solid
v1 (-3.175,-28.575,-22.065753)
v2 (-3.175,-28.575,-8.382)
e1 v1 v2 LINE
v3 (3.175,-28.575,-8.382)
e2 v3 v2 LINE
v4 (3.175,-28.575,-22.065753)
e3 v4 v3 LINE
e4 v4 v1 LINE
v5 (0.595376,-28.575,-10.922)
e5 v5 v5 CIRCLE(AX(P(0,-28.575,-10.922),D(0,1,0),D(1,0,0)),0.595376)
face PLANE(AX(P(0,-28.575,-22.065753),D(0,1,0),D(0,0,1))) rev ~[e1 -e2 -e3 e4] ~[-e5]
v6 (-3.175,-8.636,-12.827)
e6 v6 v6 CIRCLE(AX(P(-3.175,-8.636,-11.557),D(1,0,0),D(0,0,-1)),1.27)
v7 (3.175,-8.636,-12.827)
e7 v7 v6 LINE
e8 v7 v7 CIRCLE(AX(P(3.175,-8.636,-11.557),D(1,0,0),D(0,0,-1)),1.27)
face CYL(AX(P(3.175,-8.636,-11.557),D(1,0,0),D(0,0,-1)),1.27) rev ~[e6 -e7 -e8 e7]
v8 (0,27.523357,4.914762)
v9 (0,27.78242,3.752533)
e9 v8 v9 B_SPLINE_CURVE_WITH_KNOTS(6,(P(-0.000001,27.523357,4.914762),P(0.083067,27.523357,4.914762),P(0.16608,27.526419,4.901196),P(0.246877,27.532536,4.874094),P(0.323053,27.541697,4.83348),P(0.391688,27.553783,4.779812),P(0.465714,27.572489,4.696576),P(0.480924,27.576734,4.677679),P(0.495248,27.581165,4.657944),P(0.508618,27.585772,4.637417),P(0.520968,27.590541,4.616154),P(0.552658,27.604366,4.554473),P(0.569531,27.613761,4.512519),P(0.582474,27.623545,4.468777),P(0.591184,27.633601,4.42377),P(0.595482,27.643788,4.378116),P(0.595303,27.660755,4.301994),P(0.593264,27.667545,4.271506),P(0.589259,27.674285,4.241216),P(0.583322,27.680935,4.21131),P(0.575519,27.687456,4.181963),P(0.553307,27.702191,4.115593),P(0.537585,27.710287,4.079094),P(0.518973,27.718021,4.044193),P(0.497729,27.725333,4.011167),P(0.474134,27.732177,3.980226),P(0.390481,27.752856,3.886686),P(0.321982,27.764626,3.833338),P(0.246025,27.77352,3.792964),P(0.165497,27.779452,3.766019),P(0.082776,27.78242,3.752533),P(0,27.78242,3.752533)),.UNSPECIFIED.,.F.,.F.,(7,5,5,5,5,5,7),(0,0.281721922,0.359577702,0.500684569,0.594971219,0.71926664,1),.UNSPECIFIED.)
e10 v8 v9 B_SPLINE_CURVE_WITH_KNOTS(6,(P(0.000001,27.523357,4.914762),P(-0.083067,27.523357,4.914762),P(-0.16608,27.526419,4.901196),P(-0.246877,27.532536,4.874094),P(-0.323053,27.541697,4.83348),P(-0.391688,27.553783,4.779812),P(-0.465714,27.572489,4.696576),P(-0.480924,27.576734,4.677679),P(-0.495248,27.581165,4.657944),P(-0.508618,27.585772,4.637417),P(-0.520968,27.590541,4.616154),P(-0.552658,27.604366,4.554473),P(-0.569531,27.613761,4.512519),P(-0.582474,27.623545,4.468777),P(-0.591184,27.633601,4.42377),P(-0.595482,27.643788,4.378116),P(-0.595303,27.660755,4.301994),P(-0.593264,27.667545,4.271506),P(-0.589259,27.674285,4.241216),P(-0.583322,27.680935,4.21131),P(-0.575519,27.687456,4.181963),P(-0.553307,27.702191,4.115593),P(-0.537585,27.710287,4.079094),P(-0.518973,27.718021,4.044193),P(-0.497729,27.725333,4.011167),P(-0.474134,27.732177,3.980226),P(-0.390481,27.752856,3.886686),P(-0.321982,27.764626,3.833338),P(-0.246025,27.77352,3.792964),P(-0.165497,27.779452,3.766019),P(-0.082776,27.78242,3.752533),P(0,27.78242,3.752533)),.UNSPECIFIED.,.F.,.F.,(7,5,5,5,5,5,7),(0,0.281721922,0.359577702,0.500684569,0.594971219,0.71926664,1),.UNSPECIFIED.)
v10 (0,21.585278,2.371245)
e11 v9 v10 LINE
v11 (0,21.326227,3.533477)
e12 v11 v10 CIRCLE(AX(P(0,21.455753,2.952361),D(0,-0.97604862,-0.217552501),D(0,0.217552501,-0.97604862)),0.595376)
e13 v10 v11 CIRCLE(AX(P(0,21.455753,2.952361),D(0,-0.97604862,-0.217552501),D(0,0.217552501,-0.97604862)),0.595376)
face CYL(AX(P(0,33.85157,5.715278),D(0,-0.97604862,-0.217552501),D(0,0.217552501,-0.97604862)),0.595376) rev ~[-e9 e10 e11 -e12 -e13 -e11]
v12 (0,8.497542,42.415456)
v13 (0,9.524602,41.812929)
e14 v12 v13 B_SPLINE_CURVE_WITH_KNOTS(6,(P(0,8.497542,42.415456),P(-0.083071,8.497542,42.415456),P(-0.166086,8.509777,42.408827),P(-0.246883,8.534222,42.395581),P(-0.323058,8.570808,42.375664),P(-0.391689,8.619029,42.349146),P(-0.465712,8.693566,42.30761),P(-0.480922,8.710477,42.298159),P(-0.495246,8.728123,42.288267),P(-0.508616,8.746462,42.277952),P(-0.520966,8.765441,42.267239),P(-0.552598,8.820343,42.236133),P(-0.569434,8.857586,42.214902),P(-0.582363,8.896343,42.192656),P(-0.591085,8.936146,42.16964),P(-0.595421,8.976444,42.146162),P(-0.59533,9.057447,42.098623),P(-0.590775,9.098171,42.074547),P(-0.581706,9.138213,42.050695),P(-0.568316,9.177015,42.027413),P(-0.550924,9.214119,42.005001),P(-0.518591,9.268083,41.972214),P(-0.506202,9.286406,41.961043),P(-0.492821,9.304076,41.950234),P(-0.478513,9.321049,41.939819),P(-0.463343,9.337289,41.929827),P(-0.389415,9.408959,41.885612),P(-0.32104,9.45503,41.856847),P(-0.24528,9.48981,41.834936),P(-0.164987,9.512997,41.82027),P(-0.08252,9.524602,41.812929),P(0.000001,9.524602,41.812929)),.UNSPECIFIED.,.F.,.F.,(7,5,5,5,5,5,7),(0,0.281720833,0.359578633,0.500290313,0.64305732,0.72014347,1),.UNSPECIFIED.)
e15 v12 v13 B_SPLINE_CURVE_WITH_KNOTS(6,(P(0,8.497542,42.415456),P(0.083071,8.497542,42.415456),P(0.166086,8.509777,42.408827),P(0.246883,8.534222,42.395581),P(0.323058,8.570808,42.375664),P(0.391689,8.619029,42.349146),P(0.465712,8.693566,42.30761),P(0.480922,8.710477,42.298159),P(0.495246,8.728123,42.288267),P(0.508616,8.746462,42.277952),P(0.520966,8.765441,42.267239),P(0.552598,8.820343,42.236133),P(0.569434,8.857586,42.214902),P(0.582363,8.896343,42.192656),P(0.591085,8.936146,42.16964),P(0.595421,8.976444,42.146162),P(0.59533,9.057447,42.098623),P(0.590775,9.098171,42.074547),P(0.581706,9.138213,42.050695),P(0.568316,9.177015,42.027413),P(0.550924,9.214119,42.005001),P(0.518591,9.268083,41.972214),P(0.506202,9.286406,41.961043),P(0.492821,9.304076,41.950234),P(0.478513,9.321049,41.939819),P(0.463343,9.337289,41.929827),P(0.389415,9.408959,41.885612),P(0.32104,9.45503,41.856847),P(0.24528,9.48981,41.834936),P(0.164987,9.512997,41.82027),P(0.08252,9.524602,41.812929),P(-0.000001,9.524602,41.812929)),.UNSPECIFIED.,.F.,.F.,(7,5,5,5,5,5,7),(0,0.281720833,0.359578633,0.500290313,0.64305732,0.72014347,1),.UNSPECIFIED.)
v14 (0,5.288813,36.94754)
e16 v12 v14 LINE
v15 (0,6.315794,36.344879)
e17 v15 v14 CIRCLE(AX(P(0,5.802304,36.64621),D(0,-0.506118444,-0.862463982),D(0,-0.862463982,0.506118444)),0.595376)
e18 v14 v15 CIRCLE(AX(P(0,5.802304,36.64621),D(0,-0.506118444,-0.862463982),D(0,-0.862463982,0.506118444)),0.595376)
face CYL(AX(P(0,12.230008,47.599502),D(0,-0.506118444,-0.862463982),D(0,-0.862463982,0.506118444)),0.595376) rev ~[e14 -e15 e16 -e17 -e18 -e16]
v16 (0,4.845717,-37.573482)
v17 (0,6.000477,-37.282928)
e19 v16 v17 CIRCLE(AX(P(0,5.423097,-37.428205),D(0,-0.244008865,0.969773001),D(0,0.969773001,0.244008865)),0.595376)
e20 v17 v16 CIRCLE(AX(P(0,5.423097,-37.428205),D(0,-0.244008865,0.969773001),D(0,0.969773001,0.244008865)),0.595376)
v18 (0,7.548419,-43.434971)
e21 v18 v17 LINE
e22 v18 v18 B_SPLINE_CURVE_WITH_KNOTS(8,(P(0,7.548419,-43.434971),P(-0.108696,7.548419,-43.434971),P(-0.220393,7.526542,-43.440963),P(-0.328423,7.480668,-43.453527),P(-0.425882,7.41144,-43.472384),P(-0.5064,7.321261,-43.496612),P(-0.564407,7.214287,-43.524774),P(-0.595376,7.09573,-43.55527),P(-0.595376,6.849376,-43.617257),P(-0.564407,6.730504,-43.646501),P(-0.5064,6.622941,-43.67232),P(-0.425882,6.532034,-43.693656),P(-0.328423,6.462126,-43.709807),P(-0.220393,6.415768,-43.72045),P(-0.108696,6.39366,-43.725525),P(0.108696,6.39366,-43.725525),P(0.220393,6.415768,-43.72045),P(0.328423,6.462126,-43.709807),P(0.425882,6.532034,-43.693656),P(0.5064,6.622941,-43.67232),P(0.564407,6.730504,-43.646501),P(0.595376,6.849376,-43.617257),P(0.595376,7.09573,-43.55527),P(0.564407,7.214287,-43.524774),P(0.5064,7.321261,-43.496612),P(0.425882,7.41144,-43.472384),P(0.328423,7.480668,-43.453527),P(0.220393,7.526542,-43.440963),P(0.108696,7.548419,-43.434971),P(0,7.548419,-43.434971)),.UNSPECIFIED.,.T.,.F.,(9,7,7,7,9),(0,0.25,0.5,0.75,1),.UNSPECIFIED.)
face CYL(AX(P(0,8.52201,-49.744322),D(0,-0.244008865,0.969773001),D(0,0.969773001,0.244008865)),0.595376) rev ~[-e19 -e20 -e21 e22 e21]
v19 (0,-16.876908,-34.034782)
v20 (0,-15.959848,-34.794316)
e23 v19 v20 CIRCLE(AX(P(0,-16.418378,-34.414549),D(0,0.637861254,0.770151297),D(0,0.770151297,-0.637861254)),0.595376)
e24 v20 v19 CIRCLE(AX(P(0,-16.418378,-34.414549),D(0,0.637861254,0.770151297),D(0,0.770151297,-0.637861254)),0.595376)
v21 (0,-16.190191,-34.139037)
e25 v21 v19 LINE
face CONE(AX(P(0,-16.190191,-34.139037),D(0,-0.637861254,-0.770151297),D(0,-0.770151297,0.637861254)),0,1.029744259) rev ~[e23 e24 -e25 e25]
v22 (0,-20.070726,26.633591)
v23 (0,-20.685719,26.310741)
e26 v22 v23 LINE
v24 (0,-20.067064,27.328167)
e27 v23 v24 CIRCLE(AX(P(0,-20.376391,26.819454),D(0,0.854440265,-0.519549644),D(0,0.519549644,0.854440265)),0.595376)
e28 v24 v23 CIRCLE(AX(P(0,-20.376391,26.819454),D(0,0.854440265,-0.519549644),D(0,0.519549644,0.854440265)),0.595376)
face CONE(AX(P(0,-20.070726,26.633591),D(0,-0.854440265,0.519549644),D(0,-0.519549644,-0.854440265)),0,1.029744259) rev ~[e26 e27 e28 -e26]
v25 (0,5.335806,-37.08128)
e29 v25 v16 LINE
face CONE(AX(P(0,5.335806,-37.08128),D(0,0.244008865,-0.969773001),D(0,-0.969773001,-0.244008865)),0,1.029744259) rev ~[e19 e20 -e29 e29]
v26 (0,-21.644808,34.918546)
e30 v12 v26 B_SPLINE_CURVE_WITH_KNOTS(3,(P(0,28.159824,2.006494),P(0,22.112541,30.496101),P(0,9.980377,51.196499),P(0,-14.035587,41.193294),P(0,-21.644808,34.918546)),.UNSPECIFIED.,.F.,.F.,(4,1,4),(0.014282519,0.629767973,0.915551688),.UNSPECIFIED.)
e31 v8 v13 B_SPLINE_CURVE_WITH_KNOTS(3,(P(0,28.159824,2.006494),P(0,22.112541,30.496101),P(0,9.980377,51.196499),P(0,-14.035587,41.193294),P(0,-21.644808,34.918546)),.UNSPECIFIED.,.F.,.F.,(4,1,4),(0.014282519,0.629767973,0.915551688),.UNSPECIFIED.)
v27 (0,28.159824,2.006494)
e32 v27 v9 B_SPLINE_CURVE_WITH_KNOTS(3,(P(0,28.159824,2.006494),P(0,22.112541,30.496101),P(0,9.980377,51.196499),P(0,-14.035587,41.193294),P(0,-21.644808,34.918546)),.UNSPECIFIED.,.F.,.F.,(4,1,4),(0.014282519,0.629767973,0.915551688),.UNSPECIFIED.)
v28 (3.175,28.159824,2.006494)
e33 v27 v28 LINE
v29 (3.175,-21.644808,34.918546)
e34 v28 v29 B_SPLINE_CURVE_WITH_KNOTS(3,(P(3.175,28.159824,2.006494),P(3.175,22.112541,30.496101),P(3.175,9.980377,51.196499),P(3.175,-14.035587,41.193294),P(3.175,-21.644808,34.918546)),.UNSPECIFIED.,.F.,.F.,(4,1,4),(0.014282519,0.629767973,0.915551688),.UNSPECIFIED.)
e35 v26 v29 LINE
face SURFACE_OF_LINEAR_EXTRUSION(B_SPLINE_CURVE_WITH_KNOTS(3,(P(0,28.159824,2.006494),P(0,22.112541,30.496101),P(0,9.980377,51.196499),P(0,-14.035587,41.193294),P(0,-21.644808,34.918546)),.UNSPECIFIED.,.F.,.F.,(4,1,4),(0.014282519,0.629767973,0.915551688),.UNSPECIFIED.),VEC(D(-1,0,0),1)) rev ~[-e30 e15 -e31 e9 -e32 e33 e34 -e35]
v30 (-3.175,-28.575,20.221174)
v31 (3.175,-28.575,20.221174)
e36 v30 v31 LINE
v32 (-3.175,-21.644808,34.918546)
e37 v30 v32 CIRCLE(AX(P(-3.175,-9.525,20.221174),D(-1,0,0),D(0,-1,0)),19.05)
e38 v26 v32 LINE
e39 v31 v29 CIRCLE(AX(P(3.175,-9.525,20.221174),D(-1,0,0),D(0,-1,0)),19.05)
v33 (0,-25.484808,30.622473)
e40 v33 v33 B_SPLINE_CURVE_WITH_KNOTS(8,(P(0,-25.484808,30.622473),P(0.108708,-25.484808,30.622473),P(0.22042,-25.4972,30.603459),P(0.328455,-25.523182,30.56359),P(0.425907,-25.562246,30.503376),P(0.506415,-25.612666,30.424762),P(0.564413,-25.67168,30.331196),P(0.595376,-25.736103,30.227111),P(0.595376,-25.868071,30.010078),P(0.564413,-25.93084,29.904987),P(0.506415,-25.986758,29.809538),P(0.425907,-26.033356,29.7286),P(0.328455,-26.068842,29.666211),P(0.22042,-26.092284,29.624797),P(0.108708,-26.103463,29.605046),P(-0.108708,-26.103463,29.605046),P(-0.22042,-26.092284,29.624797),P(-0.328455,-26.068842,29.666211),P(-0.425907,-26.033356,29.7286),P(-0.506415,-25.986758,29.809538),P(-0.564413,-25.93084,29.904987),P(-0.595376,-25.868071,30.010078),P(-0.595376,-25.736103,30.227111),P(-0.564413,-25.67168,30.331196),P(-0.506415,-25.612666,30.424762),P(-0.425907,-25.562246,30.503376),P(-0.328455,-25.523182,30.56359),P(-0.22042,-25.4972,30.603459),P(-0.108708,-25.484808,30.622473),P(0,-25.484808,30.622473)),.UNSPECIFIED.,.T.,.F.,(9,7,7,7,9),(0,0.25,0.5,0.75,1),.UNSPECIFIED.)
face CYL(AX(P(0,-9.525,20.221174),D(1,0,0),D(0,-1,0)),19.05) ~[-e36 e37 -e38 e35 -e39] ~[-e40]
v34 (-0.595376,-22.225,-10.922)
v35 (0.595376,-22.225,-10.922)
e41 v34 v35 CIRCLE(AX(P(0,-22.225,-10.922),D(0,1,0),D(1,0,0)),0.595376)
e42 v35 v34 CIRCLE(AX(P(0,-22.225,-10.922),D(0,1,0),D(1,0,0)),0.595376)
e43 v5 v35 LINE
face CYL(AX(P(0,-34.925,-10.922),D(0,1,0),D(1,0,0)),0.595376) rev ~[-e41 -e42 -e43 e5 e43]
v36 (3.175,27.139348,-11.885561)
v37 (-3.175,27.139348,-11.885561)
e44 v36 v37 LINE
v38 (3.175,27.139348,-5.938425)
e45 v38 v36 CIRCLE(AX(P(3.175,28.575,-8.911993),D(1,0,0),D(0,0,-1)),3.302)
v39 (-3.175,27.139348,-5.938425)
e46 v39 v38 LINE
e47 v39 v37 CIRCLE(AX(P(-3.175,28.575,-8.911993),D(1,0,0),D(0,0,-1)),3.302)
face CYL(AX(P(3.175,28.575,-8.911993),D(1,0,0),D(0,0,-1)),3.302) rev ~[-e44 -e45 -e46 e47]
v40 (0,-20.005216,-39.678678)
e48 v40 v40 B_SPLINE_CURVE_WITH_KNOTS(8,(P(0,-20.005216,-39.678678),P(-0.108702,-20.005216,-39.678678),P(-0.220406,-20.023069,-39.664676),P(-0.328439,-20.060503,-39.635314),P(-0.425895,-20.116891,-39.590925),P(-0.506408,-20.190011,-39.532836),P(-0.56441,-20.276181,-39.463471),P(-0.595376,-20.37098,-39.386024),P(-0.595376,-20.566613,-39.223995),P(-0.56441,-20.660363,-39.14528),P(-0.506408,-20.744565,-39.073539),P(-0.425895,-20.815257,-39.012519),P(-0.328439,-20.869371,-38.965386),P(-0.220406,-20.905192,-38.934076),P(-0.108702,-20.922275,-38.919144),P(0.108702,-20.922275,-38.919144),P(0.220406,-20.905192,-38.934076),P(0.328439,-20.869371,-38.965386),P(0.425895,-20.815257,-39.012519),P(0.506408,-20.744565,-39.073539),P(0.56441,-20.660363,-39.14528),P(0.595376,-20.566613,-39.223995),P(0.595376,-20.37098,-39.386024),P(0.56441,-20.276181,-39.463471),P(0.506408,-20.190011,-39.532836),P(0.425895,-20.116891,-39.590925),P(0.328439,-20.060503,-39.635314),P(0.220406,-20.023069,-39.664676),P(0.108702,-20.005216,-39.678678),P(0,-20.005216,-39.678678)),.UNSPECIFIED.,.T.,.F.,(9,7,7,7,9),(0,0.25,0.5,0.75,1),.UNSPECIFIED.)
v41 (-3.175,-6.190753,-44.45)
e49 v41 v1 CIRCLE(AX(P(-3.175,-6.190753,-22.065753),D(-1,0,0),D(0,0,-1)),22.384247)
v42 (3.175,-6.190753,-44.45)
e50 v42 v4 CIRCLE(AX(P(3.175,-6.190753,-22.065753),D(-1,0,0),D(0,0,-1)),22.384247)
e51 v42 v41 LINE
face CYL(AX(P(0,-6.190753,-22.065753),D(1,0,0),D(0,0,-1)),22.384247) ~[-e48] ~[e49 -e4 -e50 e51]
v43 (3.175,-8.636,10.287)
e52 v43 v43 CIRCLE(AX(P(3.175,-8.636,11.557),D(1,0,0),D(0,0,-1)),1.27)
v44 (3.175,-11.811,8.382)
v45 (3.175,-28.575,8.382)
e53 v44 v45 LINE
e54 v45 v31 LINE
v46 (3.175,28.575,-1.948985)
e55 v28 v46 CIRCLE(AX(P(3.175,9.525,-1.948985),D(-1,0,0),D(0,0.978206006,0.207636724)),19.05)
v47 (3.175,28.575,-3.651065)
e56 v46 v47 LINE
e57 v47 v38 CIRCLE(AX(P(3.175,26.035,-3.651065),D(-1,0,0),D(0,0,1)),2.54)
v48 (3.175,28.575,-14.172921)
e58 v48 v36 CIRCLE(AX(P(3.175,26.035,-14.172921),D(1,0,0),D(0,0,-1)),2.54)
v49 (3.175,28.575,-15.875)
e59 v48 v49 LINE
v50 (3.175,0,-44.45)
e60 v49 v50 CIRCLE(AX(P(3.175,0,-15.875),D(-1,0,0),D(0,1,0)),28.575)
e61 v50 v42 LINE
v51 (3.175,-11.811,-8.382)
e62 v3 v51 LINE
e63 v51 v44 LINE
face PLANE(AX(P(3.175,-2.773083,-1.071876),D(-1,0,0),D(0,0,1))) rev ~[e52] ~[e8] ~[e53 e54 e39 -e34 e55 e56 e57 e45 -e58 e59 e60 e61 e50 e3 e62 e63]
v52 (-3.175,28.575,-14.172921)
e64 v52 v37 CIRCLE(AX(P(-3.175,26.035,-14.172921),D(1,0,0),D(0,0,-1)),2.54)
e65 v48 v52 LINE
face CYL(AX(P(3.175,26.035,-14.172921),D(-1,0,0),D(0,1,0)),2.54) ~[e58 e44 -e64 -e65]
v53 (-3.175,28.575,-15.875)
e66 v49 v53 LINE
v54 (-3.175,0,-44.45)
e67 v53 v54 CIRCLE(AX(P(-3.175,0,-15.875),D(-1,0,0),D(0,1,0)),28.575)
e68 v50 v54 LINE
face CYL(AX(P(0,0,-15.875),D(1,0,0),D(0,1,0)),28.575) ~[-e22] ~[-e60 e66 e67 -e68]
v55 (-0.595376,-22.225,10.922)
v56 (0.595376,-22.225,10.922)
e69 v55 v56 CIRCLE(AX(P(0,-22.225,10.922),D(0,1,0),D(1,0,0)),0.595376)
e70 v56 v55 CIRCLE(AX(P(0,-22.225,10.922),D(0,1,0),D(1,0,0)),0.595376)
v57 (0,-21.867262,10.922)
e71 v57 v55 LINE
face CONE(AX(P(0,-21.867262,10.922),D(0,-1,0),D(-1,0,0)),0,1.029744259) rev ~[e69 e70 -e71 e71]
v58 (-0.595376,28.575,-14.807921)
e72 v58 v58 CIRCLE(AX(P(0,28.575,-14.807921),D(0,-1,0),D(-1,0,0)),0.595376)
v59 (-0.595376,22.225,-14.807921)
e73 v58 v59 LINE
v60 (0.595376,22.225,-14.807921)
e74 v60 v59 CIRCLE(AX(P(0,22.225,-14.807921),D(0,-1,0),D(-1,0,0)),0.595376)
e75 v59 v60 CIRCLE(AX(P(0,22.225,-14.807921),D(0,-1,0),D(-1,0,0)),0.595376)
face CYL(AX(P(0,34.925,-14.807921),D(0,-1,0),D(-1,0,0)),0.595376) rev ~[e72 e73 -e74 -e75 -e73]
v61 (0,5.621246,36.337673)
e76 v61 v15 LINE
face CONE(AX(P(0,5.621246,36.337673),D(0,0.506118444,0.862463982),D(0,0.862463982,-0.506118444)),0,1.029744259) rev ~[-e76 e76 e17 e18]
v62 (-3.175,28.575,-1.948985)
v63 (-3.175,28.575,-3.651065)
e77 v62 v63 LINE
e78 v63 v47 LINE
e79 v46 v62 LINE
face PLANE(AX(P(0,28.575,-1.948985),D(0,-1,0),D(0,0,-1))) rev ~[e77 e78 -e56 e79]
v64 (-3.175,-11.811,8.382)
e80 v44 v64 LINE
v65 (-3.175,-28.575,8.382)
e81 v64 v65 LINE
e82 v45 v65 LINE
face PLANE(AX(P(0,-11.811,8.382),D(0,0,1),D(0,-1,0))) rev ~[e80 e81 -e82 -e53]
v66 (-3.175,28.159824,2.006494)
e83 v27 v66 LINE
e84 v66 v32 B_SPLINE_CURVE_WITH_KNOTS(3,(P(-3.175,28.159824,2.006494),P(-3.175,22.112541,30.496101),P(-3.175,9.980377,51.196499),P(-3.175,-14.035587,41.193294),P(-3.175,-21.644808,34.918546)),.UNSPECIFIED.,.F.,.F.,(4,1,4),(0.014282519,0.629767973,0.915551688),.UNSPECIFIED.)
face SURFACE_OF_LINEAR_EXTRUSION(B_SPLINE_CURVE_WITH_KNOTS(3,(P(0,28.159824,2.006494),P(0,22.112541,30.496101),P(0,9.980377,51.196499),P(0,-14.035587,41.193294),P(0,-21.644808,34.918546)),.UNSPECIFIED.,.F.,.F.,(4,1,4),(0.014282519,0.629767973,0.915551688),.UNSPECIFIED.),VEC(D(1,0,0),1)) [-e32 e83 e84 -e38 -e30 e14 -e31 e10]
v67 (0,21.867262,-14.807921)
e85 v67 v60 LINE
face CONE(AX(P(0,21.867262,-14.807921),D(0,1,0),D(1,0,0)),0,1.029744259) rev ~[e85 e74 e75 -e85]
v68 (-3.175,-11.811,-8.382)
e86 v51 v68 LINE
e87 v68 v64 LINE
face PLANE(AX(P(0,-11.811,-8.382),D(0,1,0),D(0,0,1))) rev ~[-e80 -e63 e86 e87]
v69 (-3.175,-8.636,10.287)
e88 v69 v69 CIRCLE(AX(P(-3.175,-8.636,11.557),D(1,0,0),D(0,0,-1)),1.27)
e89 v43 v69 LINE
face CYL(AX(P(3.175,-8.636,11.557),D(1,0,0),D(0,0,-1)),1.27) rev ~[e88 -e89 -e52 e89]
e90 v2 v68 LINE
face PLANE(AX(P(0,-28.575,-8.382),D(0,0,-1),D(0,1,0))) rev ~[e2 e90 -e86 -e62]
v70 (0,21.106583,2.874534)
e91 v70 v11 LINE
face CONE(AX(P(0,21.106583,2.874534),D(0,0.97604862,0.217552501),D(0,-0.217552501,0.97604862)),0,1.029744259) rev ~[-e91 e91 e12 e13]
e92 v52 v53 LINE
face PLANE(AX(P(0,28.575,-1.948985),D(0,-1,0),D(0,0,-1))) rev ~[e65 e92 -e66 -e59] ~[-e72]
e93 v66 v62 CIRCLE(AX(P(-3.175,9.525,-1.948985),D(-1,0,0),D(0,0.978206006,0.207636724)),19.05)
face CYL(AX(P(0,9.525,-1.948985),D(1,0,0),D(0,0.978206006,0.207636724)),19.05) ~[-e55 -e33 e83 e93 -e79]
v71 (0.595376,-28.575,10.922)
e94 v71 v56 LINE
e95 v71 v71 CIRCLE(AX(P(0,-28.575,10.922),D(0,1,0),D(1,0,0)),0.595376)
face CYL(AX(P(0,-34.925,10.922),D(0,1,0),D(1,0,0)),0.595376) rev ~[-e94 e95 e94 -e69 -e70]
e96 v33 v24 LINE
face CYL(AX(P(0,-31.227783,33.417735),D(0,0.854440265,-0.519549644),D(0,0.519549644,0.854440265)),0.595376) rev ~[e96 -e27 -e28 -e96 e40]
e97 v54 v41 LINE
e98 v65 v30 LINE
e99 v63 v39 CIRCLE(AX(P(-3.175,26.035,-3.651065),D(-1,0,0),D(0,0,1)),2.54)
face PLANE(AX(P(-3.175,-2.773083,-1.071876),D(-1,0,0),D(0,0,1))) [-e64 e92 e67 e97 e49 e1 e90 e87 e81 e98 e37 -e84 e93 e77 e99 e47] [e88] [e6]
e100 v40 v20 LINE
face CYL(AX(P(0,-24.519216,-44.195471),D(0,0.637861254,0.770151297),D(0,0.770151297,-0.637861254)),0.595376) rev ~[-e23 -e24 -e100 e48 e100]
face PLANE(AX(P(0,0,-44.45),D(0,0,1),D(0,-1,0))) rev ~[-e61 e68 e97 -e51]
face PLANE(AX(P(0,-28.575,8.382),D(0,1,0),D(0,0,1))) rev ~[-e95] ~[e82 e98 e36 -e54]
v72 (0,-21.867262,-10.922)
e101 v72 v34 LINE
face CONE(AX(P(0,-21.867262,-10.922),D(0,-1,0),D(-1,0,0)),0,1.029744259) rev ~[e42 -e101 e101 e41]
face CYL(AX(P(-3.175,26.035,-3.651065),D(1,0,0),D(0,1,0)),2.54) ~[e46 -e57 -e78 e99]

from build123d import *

# Parameters (mm, degrees)
BOSS_EXTRUDE1_DEPTH                  = 3.175
SKETCH2_R                            = 3.302
CUT_EXTRUDE1_DEPTH                   = 7.3500001
FILLET1_R                            = 2.54
SKETCH3_R                            = 1.27
CUT_EXTRUDE2_DEPTH                   = 7.3500001
F_3_64_0_04688_DIAMETER_HOLE4_D      = 1.190752
F_3_64_0_04688_DIAMETER_HOLE4_DEPTH  = 6.35
F_3_64_0_04688_DIAMETER_HOLE4_TIP    = 0.357737992
F_3_64_0_04688_DIAMETER_HOLE5_D      = 1.190752
F_3_64_0_04688_DIAMETER_HOLE5_DEPTH  = 6.35
F_3_64_0_04688_DIAMETER_HOLE5_TIP    = 0.357737992
F_3_64_0_04688_DIAMETER_HOLE8_D      = 1.190752
F_3_64_0_04688_DIAMETER_HOLE8_DEPTH  = 6.35
F_3_64_0_04688_DIAMETER_HOLE8_TIP    = 0.357737992
F_3_64_0_04688_DIAMETER_HOLE10_D     = 1.190752
F_3_64_0_04688_DIAMETER_HOLE10_DEPTH = 6.35
F_3_64_0_04688_DIAMETER_HOLE10_TIP   = 0.357737992
F_3_64_0_04688_DIAMETER_HOLE11_D     = 1.190752
F_3_64_0_04688_DIAMETER_HOLE11_DEPTH = 6.35
F_3_64_0_04688_DIAMETER_HOLE11_TIP   = 0.357737992
F_3_64_0_04688_DIAMETER_HOLE12_D     = 1.190752
F_3_64_0_04688_DIAMETER_HOLE12_DEPTH = 6.35
F_3_64_0_04688_DIAMETER_HOLE12_TIP   = 0.357737992
F_3_64_0_04688_DIAMETER_HOLE13_D     = 1.190752
F_3_64_0_04688_DIAMETER_HOLE13_DEPTH = 6.35
F_3_64_0_04688_DIAMETER_HOLE13_TIP   = 0.357737992
F_3_64_0_04688_DIAMETER_HOLE14_D     = 1.190752
F_3_64_0_04688_DIAMETER_HOLE14_DEPTH = 6.35
F_3_64_0_04688_DIAMETER_HOLE14_TIP   = 0.357737992


with BuildPart() as part:
    # Sketch1 → Boss-Extrude1 (new body, symmetric)
    with BuildSketch(Plane(origin=(0, 0, 0), x_dir=(0, 0, -1), z_dir=(1, 0, 0))):
        with BuildLine():
            ThreePointArc((-2.006494412, 28.159824422), (-0.039619207, 28.470921794), (1.948985172, 28.575))
            Line((1.948985172, 28.575), (15.875, 28.575))
            ThreePointArc((15.875, 28.575), (36.080576272, 20.205576272), (44.45, 0))
            Line((44.45, 0), (44.45, -6.190753211))
            ThreePointArc((44.45, -6.190753211), (37.893805907, -22.018805907), (22.065753211, -28.575))
            Line((22.065753211, -28.575), (8.382, -28.575))
            Line((8.382, -28.575), (8.382, -11.811))
            Line((8.382, -11.811), (-8.382, -11.811))
            Line((-8.382, -11.811), (-8.382, -28.575))
            Line((-8.382, -28.575), (-20.221173657, -28.575))
            ThreePointArc((-20.221173657, -28.575), (-28.345832171, -26.755566561), (-34.918545763, -21.644808297))
            add(Edge.make_bspline(
                [(-2.006494412, 28.159824422), (-30.496101023, 22.112541402), (-51.196498918, 9.980376605), (-41.193293746, -14.035586788), (-34.918545763, -21.644808297)],
                knots=[0.014282519, 0.014282519, 0.014282519, 0.014282519, 0.629767973, 0.915551688, 0.915551688, 0.915551688, 0.915551688], degree=3))
        make_face()
    extrude(amount=BOSS_EXTRUDE1_DEPTH, both=True)

    # Sketch2 → Cut-Extrude1 (cut, through all)
    with BuildSketch(Plane(origin=(3.175, 0, 0), x_dir=(0, 0, -1), z_dir=(1, 0, 0))):
        with Locations((8.911992586, 28.575)):
            Circle(SKETCH2_R)
    extrude(amount=-CUT_EXTRUDE1_DEPTH, mode=Mode.SUBTRACT)

    # Fillet1
    fillet1_edges = [part.edges().sort_by_distance(p)[0] for p in [
        (0, 28.575, -5.609992586),
        (0, 28.575, -12.213992586),
    ]]
    fillet(fillet1_edges, radius=FILLET1_R)

    # Sketch3 → Cut-Extrude2 (cut, through all)
    with BuildSketch(Plane(origin=(3.175, 0, 0), x_dir=(0, 0, -1), z_dir=(1, 0, 0))):
        with Locations((11.557, -8.636)):
            Circle(SKETCH3_R)
        with Locations((-11.557, -8.636)):
            Circle(SKETCH3_R)
    extrude(amount=-CUT_EXTRUDE2_DEPTH, mode=Mode.SUBTRACT)

    # 3/64 (0.04688) Diameter Hole4
    with Locations(Plane(origin=(0, 27.653661398, 4.33381955), x_dir=(0, -0.217552501, 0.97604862), z_dir=(0, 0.97604862, 0.217552501))):
        with Locations((0, 0)):
            Hole(F_3_64_0_04688_DIAMETER_HOLE4_D / 2, depth=F_3_64_0_04688_DIAMETER_HOLE4_DEPTH)
            with Locations((0, 0, -(F_3_64_0_04688_DIAMETER_HOLE4_DEPTH + F_3_64_0_04688_DIAMETER_HOLE4_TIP / 2))):  # 118° drill point
                Cone(0, F_3_64_0_04688_DIAMETER_HOLE4_D / 2, F_3_64_0_04688_DIAMETER_HOLE4_TIP, mode=Mode.SUBTRACT)

    # 3/64 (0.04688) Diameter Hole5
    with Locations(Plane(origin=(0, 28.575, 0), x_dir=(1, 0, 0), z_dir=(0, 1, 0))):
        with Locations((0, 14.807920641)):
            Hole(F_3_64_0_04688_DIAMETER_HOLE5_D / 2, depth=F_3_64_0_04688_DIAMETER_HOLE5_DEPTH)
            with Locations((0, 0, -(F_3_64_0_04688_DIAMETER_HOLE5_DEPTH + F_3_64_0_04688_DIAMETER_HOLE5_TIP / 2))):  # 118° drill point
                Cone(0, F_3_64_0_04688_DIAMETER_HOLE5_D / 2, F_3_64_0_04688_DIAMETER_HOLE5_TIP, mode=Mode.SUBTRACT)

    # 3/64 (0.04688) Diameter Hole8
    with Locations(Plane(origin=(0, 6.972553311, -43.58626351), x_dir=(0, -0.969773001, -0.244008865), z_dir=(0, 0.244008865, -0.969773001))):
        with Locations((0, 0)):
            Hole(F_3_64_0_04688_DIAMETER_HOLE8_D / 2, depth=F_3_64_0_04688_DIAMETER_HOLE8_DEPTH)
            with Locations((0, 0, -(F_3_64_0_04688_DIAMETER_HOLE8_DEPTH + F_3_64_0_04688_DIAMETER_HOLE8_TIP / 2))):  # 118° drill point
                Cone(0, F_3_64_0_04688_DIAMETER_HOLE8_D / 2, F_3_64_0_04688_DIAMETER_HOLE8_TIP, mode=Mode.SUBTRACT)

    # 3/64 (0.04688) Diameter Hole10
    with Locations(Plane(origin=(0, -20.468796932, -39.305009918), x_dir=(0, -0.770151297, 0.637861254), z_dir=(0, -0.637861254, -0.770151297))):
        with Locations((0, 0)):
            Hole(F_3_64_0_04688_DIAMETER_HOLE10_D / 2, depth=F_3_64_0_04688_DIAMETER_HOLE10_DEPTH)
            with Locations((0, 0, -(F_3_64_0_04688_DIAMETER_HOLE10_DEPTH + F_3_64_0_04688_DIAMETER_HOLE10_TIP / 2))):  # 118° drill point
                Cone(0, F_3_64_0_04688_DIAMETER_HOLE10_D / 2, F_3_64_0_04688_DIAMETER_HOLE10_TIP, mode=Mode.SUBTRACT)

    # 3/64 (0.04688) Diameter Hole11
    with Locations(Plane(origin=(0, -28.575, 0), x_dir=(-1, 0, 0), z_dir=(0, -1, 0))):
        with Locations((0, 10.922)):
            Hole(F_3_64_0_04688_DIAMETER_HOLE11_D / 2, depth=F_3_64_0_04688_DIAMETER_HOLE11_DEPTH)
            with Locations((0, 0, -(F_3_64_0_04688_DIAMETER_HOLE11_DEPTH + F_3_64_0_04688_DIAMETER_HOLE11_TIP / 2))):  # 118° drill point
                Cone(0, F_3_64_0_04688_DIAMETER_HOLE11_D / 2, F_3_64_0_04688_DIAMETER_HOLE11_TIP, mode=Mode.SUBTRACT)

    # 3/64 (0.04688) Diameter Hole12
    with Locations(Plane(origin=(0, 9.016155881, 42.122855847), x_dir=(0, 0.862463982, -0.506118444), z_dir=(0, 0.506118444, 0.862463982))):
        with Locations((0, 0)):
            Hole(F_3_64_0_04688_DIAMETER_HOLE12_D / 2, depth=F_3_64_0_04688_DIAMETER_HOLE12_DEPTH)
            with Locations((0, 0, -(F_3_64_0_04688_DIAMETER_HOLE12_DEPTH + F_3_64_0_04688_DIAMETER_HOLE12_TIP / 2))):  # 118° drill point
                Cone(0, F_3_64_0_04688_DIAMETER_HOLE12_D / 2, F_3_64_0_04688_DIAMETER_HOLE12_TIP, mode=Mode.SUBTRACT)

    # 3/64 (0.04688) Diameter Hole13
    with Locations(Plane(origin=(0, -25.802087057, 30.118594378), x_dir=(0, -0.519549644, -0.854440265), z_dir=(0, -0.854440265, 0.519549644))):
        with Locations((1e-09, 0)):
            Hole(F_3_64_0_04688_DIAMETER_HOLE13_D / 2, depth=F_3_64_0_04688_DIAMETER_HOLE13_DEPTH)
            with Locations((0, 0, -(F_3_64_0_04688_DIAMETER_HOLE13_DEPTH + F_3_64_0_04688_DIAMETER_HOLE13_TIP / 2))):  # 118° drill point
                Cone(0, F_3_64_0_04688_DIAMETER_HOLE13_D / 2, F_3_64_0_04688_DIAMETER_HOLE13_TIP, mode=Mode.SUBTRACT)

    # 3/64 (0.04688) Diameter Hole14
    with Locations(Plane(origin=(0, -28.575, 0), x_dir=(-1, 0, 0), z_dir=(0, -1, 0))):
        with Locations((0, -10.922)):
            Hole(F_3_64_0_04688_DIAMETER_HOLE14_D / 2, depth=F_3_64_0_04688_DIAMETER_HOLE14_DEPTH)
            with Locations((0, 0, -(F_3_64_0_04688_DIAMETER_HOLE14_DEPTH + F_3_64_0_04688_DIAMETER_HOLE14_TIP / 2))):  # 118° drill point
                Cone(0, F_3_64_0_04688_DIAMETER_HOLE14_D / 2, F_3_64_0_04688_DIAMETER_HOLE14_TIP, mode=Mode.SUBTRACT)


solid = part.part
